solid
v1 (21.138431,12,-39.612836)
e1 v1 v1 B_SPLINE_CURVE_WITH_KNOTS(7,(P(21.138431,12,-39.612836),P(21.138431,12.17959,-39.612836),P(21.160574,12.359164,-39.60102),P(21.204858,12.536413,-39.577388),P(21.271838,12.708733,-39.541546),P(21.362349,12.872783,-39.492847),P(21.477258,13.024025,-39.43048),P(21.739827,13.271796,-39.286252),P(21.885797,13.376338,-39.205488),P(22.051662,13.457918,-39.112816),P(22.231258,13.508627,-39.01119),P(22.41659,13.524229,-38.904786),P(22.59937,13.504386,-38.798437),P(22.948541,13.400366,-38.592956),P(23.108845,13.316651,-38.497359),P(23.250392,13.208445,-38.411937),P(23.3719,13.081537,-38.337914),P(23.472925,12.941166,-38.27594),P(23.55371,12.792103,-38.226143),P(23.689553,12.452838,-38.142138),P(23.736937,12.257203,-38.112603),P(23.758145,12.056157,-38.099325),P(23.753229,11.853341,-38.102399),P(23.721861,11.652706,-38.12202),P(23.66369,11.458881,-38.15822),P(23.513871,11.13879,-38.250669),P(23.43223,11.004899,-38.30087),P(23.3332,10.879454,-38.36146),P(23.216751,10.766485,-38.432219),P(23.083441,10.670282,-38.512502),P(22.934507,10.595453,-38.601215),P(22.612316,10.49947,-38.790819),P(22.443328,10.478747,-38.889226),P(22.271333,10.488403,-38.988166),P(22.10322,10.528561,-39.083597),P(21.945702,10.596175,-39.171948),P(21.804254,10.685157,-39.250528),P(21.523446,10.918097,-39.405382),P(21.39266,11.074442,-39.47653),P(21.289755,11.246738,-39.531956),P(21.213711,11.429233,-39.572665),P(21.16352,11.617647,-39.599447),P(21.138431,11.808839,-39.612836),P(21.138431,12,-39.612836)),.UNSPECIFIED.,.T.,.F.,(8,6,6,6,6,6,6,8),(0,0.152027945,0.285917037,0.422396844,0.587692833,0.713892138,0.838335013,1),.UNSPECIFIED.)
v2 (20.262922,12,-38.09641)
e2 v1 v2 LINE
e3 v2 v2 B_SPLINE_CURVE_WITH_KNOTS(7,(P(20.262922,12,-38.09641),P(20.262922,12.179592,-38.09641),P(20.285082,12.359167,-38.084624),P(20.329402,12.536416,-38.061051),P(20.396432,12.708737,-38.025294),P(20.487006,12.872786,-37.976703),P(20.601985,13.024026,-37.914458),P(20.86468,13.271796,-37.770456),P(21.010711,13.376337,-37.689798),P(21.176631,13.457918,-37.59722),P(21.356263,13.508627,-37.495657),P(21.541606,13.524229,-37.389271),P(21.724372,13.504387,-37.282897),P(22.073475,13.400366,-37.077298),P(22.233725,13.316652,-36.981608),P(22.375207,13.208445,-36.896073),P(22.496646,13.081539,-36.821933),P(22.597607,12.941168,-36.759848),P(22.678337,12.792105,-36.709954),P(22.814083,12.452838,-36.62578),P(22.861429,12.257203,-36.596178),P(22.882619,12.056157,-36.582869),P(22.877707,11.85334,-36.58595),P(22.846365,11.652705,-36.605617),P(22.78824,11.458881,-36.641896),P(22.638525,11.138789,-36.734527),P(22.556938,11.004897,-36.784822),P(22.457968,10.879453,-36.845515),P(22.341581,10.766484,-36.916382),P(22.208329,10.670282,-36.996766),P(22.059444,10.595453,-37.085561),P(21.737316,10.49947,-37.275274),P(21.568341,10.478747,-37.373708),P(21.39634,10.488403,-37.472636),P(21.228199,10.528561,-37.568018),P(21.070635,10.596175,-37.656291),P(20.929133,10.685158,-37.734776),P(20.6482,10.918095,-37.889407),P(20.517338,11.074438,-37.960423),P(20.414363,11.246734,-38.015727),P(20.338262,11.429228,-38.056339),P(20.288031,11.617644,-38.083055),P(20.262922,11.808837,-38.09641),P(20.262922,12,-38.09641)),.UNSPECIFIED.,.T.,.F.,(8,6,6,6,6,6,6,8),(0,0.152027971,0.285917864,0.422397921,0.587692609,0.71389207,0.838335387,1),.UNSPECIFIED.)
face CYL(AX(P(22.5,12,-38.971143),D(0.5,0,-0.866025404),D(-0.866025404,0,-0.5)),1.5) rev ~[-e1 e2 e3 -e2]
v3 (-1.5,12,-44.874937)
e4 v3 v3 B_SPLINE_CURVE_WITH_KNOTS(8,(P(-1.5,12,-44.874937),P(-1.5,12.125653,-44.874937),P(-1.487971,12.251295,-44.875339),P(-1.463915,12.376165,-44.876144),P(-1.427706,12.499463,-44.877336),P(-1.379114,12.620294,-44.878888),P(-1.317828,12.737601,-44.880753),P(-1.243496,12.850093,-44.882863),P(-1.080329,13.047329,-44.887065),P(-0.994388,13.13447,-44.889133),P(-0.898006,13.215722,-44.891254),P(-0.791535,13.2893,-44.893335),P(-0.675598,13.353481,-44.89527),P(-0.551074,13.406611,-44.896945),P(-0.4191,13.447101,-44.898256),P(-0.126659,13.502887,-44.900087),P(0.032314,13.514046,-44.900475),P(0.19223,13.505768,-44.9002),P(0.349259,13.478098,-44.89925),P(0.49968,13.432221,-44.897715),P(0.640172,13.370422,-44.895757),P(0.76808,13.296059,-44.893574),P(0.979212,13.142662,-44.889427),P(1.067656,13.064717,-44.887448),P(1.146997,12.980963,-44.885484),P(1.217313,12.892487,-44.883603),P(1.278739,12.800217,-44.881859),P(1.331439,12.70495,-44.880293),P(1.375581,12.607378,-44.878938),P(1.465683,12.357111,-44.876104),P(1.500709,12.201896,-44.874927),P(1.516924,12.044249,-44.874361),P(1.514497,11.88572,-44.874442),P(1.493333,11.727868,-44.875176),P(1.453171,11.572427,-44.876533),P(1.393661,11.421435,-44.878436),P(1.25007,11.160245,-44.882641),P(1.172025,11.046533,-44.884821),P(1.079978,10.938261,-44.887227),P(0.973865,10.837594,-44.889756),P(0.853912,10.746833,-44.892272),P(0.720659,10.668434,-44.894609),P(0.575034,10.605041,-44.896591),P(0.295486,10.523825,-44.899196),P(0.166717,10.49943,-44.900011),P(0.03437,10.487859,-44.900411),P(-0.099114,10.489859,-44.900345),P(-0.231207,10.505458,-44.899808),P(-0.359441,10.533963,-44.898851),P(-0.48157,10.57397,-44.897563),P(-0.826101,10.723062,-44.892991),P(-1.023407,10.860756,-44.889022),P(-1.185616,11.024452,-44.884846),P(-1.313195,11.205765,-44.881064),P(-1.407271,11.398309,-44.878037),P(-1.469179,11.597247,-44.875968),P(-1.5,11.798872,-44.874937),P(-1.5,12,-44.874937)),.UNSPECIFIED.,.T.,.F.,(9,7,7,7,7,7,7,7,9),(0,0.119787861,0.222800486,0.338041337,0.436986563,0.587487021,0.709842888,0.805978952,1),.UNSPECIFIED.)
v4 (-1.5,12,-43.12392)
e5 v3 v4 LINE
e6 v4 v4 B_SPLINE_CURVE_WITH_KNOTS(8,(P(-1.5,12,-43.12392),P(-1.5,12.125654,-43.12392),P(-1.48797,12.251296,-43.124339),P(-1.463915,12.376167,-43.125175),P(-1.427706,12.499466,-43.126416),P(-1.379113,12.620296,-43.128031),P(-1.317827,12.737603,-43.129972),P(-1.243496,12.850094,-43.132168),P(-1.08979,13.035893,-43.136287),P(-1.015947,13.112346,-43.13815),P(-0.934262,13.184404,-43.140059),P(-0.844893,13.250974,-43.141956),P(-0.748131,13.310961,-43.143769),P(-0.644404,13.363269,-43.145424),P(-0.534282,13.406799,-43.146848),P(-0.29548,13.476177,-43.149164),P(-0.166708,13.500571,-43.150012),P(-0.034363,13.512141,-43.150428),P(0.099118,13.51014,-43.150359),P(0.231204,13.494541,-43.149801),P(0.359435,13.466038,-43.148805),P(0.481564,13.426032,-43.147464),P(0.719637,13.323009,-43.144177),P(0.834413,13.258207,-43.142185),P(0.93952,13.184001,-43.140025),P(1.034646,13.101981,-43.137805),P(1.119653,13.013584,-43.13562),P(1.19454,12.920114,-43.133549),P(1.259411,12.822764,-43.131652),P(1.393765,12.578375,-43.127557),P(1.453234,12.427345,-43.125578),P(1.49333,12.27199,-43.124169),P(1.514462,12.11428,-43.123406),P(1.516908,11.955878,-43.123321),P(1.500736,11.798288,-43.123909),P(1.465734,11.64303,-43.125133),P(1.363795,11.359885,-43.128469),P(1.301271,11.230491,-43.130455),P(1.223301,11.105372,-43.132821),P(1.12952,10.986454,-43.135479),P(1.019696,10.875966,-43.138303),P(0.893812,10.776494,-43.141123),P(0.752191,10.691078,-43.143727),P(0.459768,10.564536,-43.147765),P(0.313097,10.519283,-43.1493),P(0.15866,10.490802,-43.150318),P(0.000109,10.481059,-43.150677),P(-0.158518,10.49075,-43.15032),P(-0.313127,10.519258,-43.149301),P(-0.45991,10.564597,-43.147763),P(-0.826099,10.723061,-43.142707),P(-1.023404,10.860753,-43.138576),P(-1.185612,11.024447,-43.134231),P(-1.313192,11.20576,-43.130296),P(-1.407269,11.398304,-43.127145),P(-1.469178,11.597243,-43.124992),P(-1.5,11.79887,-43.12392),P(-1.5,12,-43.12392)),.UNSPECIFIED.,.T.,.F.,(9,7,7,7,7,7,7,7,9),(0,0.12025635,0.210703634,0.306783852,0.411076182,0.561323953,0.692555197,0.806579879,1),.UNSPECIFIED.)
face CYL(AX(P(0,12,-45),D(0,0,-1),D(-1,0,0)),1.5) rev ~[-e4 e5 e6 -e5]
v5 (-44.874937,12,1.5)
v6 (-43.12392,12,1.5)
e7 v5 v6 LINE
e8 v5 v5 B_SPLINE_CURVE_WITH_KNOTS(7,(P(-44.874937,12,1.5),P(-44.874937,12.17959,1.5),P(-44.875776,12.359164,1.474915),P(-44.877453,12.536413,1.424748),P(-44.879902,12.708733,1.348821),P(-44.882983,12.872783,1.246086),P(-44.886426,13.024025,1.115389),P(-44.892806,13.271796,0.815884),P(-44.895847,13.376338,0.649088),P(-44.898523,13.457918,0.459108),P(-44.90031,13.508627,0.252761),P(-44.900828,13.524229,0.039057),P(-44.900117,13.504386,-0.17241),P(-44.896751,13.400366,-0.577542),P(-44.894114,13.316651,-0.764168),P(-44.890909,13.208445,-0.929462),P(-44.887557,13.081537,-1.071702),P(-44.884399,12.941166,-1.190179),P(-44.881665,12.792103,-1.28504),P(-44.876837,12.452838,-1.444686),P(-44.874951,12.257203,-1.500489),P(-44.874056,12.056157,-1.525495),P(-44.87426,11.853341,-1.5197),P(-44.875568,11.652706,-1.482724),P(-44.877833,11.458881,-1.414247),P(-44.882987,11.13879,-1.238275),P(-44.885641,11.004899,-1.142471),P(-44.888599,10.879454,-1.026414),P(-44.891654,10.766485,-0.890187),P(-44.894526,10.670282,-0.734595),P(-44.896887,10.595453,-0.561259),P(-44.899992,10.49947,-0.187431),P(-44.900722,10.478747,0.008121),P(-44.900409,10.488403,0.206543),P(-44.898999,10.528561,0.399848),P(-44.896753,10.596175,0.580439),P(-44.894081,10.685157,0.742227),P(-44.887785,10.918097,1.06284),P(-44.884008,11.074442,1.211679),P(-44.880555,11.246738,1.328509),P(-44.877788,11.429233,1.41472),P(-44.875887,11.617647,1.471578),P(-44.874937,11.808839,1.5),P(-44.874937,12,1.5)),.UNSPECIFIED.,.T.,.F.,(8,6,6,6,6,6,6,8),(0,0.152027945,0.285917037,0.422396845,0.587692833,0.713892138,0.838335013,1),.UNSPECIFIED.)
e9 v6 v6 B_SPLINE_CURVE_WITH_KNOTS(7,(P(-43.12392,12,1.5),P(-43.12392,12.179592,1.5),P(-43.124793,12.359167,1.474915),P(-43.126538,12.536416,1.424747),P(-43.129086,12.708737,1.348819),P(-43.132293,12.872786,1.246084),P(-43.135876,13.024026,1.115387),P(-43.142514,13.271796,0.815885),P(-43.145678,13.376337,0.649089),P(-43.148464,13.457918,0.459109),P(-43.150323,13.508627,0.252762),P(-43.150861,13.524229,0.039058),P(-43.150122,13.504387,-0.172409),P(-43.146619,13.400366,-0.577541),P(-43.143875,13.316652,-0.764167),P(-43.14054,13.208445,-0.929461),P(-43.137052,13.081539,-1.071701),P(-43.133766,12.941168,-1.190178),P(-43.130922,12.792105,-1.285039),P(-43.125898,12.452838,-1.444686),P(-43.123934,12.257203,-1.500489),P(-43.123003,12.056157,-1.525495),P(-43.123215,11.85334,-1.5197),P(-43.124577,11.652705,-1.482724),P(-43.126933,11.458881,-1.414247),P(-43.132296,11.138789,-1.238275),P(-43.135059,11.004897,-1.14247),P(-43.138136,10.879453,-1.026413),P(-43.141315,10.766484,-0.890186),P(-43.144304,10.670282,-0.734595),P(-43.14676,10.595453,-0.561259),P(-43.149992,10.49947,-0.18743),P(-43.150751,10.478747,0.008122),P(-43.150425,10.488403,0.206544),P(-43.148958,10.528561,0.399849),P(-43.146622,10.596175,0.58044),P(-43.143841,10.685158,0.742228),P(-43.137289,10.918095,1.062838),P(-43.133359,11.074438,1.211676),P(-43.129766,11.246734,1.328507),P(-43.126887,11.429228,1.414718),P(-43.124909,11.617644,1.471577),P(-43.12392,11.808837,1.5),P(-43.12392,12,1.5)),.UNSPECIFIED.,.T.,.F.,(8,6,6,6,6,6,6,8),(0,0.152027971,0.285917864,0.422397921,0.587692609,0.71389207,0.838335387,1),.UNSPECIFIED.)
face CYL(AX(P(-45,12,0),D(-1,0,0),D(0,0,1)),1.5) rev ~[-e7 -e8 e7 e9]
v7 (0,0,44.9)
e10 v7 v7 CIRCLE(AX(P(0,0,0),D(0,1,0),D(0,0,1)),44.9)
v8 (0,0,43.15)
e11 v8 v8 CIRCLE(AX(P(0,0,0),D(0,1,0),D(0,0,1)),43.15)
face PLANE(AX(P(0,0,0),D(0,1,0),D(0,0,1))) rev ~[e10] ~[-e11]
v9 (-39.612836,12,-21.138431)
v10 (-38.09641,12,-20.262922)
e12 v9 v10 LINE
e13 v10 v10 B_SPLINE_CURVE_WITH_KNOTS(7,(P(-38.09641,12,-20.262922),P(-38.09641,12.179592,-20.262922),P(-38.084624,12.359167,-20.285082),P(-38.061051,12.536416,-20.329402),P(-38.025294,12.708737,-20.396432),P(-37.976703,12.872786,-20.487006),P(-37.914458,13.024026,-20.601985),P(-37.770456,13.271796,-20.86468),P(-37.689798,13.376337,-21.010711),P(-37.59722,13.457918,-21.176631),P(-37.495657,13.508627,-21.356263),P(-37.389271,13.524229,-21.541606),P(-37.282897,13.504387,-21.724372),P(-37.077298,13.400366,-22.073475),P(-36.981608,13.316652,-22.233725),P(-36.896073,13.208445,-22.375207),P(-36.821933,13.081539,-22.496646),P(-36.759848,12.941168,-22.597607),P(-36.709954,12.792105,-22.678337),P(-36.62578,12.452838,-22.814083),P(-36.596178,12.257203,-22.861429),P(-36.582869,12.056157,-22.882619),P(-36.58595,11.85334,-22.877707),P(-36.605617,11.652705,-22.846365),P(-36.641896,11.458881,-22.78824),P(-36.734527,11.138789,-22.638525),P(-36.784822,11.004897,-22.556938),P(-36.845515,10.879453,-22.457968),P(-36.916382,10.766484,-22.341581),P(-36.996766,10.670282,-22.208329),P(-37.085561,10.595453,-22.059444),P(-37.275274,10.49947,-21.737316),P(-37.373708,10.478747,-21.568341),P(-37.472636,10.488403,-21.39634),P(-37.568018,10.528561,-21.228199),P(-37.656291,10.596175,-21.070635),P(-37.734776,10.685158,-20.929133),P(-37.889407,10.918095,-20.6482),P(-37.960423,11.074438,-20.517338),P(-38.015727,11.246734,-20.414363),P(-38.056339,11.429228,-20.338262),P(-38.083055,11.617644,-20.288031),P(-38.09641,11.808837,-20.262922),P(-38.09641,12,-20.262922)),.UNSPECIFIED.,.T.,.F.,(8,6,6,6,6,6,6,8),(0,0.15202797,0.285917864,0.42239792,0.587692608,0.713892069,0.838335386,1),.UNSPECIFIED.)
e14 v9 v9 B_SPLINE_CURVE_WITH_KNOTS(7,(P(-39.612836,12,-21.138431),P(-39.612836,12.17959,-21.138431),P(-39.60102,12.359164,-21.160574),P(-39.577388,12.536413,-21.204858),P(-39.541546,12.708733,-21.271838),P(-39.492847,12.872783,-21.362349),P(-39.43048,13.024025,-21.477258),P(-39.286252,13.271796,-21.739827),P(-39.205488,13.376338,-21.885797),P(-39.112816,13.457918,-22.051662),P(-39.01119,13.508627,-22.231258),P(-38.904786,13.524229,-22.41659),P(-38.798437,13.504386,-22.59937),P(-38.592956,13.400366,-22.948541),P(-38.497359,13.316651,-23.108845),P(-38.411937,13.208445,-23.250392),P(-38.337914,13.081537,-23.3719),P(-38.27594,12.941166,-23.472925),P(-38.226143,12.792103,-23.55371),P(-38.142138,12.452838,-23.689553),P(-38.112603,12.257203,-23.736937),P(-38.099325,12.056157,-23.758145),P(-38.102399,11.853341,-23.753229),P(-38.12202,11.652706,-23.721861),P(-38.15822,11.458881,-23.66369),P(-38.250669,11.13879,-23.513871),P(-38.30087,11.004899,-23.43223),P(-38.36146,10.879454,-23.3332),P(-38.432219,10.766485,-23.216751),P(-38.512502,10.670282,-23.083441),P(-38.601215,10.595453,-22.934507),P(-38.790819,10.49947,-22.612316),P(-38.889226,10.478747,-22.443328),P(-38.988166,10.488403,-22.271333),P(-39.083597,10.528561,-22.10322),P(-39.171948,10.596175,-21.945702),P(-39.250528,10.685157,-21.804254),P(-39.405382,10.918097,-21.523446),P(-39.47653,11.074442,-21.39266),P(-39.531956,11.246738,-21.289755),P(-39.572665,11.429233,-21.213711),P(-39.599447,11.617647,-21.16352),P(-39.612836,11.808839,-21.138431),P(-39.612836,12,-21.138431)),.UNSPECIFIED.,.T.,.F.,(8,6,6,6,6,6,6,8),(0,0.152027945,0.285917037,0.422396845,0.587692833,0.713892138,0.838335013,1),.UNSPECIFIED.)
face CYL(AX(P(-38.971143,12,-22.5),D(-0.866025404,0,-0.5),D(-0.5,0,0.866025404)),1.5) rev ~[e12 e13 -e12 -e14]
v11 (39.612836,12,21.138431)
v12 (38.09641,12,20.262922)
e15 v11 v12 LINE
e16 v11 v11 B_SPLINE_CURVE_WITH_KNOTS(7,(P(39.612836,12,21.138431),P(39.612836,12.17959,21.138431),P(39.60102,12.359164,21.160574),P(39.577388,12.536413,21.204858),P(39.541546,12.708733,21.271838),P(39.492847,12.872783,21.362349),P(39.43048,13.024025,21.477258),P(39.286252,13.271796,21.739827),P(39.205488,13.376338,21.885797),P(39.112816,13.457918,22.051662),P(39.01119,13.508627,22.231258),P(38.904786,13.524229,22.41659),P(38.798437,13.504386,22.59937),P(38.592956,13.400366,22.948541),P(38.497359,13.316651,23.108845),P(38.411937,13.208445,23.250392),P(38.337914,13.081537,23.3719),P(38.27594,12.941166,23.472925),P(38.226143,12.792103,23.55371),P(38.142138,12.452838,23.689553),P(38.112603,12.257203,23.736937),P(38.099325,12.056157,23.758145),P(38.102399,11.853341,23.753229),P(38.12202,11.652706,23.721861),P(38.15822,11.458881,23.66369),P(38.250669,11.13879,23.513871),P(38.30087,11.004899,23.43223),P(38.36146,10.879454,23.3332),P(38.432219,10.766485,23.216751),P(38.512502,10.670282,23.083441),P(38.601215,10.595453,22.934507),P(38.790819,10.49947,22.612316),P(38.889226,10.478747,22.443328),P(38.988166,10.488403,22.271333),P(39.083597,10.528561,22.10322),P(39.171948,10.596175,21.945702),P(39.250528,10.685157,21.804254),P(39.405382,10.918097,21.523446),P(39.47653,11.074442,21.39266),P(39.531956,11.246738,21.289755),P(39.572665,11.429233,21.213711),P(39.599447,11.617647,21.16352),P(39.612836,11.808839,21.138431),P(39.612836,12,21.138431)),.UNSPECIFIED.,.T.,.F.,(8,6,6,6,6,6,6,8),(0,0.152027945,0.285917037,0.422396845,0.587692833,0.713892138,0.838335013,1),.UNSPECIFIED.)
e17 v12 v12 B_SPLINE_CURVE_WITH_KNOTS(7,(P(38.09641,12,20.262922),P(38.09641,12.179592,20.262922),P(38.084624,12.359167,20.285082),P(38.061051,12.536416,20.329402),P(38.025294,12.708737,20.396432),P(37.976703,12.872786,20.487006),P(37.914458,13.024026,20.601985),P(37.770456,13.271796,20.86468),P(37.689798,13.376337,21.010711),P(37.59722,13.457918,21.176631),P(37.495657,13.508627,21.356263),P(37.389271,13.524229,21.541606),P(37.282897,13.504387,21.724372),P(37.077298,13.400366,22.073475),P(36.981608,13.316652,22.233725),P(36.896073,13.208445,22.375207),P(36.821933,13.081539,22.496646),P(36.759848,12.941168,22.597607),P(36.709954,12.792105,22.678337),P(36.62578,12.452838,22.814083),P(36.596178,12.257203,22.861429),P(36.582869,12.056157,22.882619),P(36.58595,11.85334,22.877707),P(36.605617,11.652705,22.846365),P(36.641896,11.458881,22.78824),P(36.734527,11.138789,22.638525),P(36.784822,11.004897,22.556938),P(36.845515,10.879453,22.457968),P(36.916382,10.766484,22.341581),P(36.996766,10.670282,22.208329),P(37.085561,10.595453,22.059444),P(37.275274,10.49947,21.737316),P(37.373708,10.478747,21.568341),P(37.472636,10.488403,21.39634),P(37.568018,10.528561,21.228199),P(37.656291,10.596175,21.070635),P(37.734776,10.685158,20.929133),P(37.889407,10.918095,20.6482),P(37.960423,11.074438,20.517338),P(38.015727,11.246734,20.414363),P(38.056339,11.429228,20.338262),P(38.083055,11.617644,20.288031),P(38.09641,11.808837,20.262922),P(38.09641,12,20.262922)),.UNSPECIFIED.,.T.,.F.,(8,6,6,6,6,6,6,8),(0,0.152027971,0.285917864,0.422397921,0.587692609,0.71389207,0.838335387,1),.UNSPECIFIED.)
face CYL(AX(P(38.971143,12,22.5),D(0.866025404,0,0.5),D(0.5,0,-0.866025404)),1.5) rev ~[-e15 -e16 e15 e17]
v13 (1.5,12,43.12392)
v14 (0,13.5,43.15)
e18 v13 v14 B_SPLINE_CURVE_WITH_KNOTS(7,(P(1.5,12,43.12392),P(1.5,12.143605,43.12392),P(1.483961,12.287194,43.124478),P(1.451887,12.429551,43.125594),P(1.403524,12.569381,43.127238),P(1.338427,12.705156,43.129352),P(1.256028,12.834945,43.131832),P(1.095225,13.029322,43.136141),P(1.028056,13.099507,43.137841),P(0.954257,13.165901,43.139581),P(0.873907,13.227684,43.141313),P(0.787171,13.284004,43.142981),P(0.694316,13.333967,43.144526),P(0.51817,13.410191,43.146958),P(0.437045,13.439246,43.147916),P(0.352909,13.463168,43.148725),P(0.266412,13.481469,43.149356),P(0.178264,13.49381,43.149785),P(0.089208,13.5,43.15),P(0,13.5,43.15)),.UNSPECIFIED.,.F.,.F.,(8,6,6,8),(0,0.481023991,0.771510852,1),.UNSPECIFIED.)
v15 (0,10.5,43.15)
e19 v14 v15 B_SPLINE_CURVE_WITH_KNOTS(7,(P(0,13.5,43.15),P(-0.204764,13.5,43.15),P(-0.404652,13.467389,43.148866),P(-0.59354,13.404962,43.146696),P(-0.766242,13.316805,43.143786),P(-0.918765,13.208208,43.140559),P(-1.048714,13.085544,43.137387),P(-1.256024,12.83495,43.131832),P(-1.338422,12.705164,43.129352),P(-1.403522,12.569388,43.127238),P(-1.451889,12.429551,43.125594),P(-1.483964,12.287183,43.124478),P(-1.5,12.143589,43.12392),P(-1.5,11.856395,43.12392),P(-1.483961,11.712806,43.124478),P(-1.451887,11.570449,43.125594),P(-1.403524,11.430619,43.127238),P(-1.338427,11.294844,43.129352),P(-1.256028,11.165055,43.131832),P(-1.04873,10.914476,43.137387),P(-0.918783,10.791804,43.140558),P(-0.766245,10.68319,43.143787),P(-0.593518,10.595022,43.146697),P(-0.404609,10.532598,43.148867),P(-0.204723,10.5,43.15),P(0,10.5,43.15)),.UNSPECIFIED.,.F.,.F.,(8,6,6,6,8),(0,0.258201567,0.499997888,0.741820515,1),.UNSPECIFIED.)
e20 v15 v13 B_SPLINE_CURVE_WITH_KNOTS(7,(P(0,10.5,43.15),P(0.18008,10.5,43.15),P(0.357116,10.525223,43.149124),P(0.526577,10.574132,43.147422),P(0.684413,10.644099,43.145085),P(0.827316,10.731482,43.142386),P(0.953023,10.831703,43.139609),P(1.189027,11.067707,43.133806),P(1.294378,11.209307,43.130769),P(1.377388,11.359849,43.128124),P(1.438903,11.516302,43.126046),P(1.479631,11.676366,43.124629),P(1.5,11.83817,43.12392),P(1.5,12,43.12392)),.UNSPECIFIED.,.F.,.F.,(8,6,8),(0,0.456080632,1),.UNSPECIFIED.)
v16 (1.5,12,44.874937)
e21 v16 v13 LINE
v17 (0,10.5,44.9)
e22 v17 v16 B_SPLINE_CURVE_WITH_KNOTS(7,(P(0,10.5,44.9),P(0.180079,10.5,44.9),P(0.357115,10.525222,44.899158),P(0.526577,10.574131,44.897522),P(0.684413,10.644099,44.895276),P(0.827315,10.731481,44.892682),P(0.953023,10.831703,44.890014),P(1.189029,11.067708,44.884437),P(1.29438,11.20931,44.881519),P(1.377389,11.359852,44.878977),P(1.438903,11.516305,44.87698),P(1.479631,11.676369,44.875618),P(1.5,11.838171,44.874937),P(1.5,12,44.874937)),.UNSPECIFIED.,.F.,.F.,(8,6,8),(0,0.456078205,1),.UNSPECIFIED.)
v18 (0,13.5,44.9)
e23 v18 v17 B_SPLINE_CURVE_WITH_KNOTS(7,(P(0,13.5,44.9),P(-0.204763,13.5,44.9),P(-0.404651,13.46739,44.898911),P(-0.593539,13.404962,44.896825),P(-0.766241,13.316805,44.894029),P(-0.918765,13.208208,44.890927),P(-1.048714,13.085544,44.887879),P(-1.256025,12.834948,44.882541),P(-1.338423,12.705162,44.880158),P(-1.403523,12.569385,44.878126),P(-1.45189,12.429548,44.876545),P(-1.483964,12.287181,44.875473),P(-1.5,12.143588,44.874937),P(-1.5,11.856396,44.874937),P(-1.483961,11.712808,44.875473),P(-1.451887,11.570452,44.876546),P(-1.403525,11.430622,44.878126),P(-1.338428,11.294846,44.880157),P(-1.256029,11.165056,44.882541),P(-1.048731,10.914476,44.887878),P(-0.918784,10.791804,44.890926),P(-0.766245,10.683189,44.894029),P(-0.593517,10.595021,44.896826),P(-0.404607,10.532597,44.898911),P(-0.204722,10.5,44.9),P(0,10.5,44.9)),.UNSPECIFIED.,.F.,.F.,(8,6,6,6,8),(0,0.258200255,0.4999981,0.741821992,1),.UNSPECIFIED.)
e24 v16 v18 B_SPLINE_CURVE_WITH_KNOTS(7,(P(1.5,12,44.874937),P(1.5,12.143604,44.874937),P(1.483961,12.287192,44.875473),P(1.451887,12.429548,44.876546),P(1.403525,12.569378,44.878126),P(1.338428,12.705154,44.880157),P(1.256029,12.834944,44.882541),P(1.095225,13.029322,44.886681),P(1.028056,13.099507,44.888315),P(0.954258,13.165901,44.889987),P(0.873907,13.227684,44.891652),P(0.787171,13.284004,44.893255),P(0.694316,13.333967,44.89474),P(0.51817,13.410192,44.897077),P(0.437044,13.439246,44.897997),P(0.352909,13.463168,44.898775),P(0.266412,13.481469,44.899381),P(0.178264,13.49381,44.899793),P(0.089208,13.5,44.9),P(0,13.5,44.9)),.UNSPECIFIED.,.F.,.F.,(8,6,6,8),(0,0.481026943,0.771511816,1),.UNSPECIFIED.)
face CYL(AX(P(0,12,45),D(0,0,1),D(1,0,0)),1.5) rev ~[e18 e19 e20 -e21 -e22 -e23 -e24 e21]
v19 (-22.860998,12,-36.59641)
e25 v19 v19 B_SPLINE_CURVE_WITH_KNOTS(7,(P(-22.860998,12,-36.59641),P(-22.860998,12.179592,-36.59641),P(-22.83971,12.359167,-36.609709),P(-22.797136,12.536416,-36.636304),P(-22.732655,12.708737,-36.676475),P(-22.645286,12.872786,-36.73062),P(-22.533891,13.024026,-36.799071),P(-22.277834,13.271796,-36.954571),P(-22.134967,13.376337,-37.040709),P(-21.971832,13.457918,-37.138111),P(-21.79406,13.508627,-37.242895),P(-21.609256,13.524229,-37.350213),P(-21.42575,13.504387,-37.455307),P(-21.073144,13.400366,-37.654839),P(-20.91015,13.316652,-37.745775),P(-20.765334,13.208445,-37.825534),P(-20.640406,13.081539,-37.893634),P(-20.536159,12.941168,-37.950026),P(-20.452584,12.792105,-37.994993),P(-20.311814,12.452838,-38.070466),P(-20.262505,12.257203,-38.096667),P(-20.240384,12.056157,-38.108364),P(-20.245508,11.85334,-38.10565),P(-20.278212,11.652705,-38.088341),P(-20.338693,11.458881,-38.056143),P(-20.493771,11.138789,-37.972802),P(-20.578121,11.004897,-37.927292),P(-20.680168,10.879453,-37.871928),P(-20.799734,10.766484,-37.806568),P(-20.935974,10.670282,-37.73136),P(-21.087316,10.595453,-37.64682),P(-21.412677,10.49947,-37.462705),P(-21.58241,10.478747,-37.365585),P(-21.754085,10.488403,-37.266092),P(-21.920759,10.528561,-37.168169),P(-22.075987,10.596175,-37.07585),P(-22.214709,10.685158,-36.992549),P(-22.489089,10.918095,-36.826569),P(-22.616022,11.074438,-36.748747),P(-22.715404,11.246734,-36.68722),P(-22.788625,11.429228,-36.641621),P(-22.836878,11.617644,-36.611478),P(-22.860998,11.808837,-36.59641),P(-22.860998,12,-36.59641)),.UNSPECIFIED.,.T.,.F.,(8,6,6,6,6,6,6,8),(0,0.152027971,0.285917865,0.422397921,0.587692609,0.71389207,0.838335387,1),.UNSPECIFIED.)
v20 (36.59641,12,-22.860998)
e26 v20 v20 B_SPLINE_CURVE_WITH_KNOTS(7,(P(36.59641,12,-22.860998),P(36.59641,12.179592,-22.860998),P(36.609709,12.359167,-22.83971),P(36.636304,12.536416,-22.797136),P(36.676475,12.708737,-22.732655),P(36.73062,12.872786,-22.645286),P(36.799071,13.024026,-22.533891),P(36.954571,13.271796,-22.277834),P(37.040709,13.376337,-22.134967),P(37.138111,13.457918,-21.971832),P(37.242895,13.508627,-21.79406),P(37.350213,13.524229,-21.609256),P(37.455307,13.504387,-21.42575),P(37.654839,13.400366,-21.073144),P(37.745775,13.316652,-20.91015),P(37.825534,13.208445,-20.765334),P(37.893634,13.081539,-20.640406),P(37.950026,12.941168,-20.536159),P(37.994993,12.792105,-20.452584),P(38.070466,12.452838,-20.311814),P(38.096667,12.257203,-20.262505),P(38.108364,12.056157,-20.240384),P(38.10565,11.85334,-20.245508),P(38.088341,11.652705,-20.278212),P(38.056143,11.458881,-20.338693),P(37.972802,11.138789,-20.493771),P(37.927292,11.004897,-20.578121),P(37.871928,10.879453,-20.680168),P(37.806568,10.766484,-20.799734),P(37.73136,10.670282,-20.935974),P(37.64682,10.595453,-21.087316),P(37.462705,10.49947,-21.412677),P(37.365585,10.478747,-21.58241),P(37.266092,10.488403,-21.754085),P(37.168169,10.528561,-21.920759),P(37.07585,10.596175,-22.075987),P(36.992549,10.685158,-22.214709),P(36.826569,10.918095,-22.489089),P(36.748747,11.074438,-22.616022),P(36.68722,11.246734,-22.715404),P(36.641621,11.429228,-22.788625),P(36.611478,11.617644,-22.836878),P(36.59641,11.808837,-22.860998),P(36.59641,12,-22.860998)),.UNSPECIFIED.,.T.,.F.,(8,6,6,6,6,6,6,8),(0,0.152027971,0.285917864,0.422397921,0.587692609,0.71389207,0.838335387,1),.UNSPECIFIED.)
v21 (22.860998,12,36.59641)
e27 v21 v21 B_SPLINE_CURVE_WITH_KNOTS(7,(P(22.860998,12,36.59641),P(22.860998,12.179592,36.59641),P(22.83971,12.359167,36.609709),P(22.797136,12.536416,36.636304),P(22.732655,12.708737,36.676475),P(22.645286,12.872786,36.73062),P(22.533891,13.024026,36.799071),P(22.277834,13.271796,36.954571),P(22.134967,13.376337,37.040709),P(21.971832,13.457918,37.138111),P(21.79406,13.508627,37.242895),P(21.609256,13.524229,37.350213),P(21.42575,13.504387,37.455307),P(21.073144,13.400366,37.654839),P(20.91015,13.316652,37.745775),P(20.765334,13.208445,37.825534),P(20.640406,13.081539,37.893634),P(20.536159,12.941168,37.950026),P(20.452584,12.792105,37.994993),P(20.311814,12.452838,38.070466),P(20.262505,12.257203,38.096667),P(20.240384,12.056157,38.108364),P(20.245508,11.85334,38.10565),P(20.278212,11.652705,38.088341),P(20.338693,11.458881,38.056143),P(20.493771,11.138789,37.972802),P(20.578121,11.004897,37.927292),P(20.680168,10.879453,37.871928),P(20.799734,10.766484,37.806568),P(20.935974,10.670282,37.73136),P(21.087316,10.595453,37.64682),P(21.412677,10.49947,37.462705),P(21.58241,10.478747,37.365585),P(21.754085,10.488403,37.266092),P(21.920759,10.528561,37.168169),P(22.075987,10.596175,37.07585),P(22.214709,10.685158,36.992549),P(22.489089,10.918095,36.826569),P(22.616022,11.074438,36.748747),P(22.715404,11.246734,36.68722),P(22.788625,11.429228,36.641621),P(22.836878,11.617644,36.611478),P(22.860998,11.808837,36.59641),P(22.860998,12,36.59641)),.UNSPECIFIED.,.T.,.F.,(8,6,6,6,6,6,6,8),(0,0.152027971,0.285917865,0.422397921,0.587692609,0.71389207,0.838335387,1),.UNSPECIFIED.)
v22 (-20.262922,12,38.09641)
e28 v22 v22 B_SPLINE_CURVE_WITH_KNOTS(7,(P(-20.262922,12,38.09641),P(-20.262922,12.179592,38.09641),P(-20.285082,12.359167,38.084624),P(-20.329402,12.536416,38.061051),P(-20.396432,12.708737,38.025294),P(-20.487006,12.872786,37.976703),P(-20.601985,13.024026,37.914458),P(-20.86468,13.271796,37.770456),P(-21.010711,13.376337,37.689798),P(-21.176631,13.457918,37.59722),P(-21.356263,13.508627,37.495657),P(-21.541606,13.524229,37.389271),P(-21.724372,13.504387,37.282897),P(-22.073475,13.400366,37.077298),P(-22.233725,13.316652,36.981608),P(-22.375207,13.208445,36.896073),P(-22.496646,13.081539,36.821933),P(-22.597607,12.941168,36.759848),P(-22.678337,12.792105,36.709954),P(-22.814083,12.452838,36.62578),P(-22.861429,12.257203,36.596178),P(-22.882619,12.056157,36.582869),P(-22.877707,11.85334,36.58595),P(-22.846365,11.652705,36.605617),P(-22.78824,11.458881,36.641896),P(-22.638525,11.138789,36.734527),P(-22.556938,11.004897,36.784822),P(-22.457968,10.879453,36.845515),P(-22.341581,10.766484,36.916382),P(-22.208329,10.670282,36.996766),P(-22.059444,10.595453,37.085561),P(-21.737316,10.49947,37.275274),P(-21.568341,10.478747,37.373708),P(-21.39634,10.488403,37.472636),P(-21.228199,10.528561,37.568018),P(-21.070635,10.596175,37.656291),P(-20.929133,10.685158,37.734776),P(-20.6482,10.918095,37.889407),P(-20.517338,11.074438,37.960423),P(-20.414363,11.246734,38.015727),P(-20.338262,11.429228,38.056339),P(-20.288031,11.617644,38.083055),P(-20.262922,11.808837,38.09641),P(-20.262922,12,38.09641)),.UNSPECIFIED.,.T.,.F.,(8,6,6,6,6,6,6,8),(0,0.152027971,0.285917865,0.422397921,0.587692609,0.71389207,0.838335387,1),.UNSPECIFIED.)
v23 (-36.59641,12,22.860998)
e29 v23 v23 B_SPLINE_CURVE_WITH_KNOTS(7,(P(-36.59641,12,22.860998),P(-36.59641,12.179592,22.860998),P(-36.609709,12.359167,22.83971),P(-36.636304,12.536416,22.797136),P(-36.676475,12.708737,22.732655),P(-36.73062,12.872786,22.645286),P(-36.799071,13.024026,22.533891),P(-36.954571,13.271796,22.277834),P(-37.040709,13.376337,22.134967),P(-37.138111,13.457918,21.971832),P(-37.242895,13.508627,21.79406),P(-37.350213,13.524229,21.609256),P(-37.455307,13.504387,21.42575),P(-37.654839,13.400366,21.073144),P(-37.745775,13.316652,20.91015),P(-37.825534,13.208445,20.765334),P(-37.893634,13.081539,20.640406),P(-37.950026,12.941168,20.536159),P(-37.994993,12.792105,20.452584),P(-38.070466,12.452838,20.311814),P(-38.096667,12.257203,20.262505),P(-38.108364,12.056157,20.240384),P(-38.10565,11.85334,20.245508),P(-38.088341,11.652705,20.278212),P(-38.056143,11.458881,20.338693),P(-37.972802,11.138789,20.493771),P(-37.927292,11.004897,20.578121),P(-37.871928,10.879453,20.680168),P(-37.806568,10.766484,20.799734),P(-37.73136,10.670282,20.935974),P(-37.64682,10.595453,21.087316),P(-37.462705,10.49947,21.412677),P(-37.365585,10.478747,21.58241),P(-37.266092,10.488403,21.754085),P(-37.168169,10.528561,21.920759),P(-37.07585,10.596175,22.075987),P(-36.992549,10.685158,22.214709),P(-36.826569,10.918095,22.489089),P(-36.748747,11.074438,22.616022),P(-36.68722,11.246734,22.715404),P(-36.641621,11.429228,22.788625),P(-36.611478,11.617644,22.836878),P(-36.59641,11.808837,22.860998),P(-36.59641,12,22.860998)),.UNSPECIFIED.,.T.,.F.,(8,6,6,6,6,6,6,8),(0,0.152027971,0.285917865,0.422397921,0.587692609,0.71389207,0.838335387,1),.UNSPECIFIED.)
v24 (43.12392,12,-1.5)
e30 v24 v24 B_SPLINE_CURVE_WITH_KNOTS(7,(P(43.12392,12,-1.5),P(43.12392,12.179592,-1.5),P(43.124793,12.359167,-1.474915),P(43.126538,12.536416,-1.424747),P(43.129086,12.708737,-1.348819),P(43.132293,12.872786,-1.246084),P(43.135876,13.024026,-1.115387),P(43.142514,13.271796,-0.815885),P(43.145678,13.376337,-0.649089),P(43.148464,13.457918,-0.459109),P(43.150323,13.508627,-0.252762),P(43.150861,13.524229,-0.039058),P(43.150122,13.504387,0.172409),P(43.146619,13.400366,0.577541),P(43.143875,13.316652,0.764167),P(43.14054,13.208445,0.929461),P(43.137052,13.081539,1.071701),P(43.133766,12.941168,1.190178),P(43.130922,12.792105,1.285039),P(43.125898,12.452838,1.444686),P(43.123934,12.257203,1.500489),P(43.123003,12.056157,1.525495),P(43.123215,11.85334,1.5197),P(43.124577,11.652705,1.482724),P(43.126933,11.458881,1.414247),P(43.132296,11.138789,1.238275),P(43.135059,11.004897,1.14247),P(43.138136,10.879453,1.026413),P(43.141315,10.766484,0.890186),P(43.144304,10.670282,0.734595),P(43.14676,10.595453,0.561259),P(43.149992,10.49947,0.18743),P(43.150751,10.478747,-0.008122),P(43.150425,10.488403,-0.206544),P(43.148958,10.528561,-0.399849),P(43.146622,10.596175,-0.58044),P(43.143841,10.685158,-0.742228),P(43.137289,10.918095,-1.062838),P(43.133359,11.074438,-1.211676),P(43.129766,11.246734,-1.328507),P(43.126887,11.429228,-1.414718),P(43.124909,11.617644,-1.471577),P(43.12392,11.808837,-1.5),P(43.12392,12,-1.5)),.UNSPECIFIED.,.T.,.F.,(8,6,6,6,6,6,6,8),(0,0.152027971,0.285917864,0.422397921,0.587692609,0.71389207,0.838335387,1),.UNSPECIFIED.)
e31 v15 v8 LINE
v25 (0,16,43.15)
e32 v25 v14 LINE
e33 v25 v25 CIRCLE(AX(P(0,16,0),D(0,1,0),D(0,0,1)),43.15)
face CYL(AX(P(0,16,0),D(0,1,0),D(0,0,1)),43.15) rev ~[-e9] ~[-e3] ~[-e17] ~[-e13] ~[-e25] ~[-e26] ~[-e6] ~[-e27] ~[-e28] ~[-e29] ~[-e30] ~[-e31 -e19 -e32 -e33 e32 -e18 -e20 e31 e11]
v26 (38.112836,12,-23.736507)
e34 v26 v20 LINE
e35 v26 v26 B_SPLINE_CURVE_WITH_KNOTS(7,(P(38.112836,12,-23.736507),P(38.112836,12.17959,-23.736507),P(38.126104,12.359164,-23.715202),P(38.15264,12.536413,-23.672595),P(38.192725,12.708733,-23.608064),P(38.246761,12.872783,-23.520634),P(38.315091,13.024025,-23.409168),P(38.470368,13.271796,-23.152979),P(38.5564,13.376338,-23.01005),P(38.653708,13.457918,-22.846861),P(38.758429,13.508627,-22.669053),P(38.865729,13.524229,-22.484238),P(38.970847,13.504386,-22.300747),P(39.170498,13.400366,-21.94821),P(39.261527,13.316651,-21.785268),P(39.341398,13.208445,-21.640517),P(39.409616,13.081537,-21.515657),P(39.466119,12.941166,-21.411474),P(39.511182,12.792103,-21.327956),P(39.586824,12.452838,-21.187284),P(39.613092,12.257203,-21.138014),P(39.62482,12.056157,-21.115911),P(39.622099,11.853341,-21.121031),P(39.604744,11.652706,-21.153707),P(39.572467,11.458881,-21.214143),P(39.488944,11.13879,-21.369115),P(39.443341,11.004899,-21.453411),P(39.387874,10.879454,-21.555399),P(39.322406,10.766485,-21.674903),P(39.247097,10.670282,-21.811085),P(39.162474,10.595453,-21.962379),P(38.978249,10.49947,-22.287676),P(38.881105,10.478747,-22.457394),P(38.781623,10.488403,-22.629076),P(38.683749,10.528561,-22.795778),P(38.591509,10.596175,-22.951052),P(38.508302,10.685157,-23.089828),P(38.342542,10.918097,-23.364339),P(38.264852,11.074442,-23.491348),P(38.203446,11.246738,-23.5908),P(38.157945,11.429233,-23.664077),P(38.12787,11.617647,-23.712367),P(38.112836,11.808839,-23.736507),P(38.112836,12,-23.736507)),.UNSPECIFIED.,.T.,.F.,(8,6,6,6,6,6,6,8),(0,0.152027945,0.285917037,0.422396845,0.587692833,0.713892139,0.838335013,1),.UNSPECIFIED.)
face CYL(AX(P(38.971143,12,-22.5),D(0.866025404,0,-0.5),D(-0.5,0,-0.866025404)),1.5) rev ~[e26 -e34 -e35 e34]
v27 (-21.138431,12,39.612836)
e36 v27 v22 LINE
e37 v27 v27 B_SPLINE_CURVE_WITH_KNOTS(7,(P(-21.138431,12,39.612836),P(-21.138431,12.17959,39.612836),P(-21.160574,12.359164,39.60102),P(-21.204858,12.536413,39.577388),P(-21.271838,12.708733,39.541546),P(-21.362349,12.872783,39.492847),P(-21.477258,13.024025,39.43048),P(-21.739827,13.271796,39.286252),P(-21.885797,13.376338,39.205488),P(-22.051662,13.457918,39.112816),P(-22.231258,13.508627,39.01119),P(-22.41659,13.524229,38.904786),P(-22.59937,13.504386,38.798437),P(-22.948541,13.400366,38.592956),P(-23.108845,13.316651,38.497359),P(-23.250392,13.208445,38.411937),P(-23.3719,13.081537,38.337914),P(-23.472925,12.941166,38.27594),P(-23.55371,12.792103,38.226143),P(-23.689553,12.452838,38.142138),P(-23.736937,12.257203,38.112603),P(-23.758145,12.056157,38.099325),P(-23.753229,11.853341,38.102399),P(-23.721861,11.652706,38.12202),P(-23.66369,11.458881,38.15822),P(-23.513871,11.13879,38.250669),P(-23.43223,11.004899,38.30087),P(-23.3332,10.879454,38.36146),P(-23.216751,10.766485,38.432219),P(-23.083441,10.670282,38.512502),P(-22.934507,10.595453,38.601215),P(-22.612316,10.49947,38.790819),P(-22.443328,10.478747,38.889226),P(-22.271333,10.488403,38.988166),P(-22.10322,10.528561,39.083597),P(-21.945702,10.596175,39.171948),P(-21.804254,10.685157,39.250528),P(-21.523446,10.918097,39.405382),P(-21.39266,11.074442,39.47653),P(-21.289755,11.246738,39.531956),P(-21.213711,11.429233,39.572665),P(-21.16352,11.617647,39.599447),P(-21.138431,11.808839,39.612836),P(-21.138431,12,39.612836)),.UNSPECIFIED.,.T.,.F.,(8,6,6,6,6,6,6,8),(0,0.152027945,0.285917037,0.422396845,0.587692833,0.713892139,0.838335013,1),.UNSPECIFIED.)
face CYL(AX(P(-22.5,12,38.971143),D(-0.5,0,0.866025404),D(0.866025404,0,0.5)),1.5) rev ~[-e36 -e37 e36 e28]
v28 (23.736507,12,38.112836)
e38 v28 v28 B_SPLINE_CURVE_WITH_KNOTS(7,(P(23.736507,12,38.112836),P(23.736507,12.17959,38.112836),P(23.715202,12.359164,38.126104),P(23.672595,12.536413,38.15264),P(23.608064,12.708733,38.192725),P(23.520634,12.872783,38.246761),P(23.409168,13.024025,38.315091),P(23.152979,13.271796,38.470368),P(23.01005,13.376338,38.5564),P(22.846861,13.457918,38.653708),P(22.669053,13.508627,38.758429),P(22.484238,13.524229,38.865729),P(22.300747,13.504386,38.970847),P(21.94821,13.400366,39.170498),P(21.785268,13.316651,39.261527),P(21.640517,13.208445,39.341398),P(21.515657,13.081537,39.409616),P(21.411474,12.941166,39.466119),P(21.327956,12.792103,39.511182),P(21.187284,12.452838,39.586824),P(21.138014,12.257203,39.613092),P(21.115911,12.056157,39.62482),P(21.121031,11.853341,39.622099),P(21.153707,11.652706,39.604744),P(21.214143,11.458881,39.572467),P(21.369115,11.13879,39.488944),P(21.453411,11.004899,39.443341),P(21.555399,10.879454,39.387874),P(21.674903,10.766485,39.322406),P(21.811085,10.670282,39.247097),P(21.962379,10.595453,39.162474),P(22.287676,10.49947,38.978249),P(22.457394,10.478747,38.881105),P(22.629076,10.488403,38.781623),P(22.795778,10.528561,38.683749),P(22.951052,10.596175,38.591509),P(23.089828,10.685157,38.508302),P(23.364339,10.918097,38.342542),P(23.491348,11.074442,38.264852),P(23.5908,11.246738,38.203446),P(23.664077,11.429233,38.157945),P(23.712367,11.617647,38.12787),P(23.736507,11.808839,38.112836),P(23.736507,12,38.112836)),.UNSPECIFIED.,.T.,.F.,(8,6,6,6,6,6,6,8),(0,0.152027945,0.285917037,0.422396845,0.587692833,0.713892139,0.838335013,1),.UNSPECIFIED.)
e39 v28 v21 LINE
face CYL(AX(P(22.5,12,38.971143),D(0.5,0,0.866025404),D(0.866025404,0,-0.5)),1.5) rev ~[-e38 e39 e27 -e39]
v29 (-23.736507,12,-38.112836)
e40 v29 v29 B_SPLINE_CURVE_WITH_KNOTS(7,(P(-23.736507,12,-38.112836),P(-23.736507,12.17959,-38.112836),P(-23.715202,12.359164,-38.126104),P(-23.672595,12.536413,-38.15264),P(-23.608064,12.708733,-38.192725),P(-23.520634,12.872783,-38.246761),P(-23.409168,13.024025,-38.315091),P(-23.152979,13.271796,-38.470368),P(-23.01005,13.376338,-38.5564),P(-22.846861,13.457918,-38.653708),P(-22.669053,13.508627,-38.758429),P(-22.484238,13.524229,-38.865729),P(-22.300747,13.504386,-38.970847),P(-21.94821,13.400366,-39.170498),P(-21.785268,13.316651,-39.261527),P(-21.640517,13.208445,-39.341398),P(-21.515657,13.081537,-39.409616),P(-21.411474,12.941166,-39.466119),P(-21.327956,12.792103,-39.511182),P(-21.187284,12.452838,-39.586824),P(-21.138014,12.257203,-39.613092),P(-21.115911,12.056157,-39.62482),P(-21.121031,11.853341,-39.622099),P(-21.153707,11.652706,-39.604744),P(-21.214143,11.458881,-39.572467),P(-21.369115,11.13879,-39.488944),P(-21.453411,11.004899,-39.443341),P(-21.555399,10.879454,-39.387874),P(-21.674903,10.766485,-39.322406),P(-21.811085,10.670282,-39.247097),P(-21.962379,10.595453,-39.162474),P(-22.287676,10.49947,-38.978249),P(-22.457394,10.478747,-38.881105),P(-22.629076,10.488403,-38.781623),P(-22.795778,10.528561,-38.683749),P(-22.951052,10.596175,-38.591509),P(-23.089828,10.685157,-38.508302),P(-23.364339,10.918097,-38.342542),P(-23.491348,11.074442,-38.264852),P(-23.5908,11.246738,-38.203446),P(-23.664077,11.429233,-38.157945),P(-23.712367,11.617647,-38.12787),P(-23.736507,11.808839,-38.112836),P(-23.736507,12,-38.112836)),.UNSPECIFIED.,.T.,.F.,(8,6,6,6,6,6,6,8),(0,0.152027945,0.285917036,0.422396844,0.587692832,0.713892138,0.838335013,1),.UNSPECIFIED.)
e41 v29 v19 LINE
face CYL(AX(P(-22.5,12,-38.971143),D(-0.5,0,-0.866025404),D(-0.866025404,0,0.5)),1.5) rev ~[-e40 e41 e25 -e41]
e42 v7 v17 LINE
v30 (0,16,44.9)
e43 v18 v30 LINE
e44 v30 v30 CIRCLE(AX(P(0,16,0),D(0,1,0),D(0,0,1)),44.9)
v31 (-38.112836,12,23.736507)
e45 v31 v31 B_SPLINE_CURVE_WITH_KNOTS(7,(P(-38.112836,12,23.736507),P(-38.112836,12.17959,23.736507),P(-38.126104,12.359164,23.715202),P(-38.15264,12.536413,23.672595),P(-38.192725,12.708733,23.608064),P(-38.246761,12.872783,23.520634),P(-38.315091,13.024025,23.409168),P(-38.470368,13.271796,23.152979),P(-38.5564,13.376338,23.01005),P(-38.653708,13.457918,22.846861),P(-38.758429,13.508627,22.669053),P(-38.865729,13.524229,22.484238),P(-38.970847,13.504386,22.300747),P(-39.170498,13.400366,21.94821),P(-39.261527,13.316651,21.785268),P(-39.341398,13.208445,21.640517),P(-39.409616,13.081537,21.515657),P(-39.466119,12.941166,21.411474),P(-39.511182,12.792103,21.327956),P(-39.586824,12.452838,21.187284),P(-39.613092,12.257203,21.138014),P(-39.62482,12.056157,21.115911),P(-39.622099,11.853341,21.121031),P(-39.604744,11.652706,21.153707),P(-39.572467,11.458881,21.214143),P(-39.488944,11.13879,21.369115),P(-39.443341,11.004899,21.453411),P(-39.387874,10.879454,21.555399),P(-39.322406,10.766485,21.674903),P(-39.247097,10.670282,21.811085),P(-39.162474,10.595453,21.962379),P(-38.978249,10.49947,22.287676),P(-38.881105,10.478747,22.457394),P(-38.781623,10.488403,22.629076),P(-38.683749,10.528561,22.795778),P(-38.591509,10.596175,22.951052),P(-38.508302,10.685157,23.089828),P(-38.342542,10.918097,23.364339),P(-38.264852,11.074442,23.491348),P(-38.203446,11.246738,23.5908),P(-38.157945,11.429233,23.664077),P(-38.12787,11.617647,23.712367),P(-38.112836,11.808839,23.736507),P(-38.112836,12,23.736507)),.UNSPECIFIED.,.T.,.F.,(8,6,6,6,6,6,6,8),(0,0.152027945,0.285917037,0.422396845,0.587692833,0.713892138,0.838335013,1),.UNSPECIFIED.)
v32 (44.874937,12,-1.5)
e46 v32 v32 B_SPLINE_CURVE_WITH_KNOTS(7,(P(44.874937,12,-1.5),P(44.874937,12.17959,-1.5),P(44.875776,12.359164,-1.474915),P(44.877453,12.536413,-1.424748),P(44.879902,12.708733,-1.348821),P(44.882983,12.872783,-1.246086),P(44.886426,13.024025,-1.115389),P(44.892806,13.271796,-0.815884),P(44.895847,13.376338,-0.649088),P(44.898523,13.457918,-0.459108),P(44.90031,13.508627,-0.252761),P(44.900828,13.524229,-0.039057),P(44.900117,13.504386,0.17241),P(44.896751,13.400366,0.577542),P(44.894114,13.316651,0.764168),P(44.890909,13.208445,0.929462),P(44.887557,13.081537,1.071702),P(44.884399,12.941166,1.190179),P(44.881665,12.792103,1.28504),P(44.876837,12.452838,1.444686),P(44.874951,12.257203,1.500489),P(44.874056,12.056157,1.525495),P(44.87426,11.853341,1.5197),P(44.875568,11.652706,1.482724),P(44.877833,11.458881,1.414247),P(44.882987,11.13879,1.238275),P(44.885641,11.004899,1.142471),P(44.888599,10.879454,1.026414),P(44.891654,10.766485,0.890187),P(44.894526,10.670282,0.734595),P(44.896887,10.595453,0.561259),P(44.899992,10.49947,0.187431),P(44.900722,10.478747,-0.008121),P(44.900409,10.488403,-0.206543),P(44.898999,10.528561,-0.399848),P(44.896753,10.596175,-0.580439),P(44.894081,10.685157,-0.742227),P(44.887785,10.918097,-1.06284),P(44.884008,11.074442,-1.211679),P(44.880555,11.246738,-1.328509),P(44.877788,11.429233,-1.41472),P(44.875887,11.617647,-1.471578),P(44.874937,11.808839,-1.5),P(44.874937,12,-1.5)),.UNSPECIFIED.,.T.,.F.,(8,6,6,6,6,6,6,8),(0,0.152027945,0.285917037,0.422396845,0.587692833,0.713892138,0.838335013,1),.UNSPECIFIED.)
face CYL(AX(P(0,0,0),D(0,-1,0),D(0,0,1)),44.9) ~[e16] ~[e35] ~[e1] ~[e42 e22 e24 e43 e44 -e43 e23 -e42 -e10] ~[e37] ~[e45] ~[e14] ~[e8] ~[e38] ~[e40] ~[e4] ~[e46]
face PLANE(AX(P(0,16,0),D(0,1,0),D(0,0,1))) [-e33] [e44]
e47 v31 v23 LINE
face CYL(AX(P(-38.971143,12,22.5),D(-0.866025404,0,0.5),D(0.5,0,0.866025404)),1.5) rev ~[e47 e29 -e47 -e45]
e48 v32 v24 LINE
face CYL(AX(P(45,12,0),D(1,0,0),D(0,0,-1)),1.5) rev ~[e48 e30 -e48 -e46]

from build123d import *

# Parameters (mm, degrees)
SKETCH_1_R               = 44.9
SKETCH_1_R_2             = 2.5
SKETCH_1_R_3             = 18.4
EXTRUDE_1_DEPTH          = 16
SKETCH_2_R               = 4
CUT_EXTRUDE_1_DEPTH      = 3
SKETCH_4_R               = 4.5
CUT_EXTRUDE_2_DEPTH      = 5.1
SKETCH_5_R               = 1.5
CUT_EXTRUDE_3_DEPTH      = 10
PATTERN_CIRCULAR_1_COUNT = 12
FILLET_1_R               = 0.5
SKETCH1_R                = 43.15
CUT_EXTRUDE1_DEPTH       = 66.482975056


with BuildPart() as part:
    # 草图1 → 凸台-拉伸1 (new body)
    with BuildSketch(Plane(origin=(0, 0, 0), x_dir=(1, 0, 0), z_dir=(0, 1, 0))):
        with Locations(Location((0, 0, 0), (0, 0, 270))):
            Circle(SKETCH_1_R)
        with Locations(Location((-24.6, 0, 0), (0, 0, 270))):
            Circle(SKETCH_1_R_2, mode=Mode.SUBTRACT)
        with Locations(Location((-12.3, 21.304224933, 0), (0, 0, 270))):
            Circle(SKETCH_1_R_2, mode=Mode.SUBTRACT)
        with Locations(Location((12.3, 21.304224933, 0), (0, 0, 270))):
            Circle(SKETCH_1_R_2, mode=Mode.SUBTRACT)
        with Locations(Location((24.6, 0, 0), (0, 0, 270))):
            Circle(SKETCH_1_R_2, mode=Mode.SUBTRACT)
        with Locations(Location((12.3, -21.304224933, 0), (0, 0, 270))):
            Circle(SKETCH_1_R_2, mode=Mode.SUBTRACT)
        with Locations(Location((-12.3, -21.304224933, 0), (0, 0, 270))):
            Circle(SKETCH_1_R_2, mode=Mode.SUBTRACT)
        with Locations(Location((0, 0, 0), (0, 0, 270))):
            Circle(SKETCH_1_R_3, mode=Mode.SUBTRACT)
    extrude(amount=EXTRUDE_1_DEPTH)

    # 草图2 → 切除-拉伸1 (cut)
    with BuildSketch(Plane.XZ):
        with Locations(Location((-21.304224933, -12.3, 0), (0, 0, 270))):
            Circle(SKETCH_2_R)
        with Locations(Location((0, 24.6, 0), (0, 0, 270))):
            Circle(SKETCH_2_R)
        with Locations(Location((21.304224933, -12.3, 0), (0, 0, 270))):
            Circle(SKETCH_2_R)
    extrude(amount=-CUT_EXTRUDE_1_DEPTH, mode=Mode.SUBTRACT)

    # 草图4 → 切除-拉伸2 (cut)
    with BuildSketch(Plane(origin=(0, 16, 0), x_dir=(1, 0, 0), z_dir=(0, 1, 0))):
        with Locations(Location((-24.6, 0, 0), (0, 0, 270))):
            Circle(SKETCH_4_R)
        with Locations(Location((-12.3, 21.304224933, 0), (0, 0, 270))):
            Circle(SKETCH_4_R)
        with Locations(Location((12.3, 21.304224933, 0), (0, 0, 270))):
            Circle(SKETCH_4_R)
        with Locations(Location((24.6, 0, 0), (0, 0, 270))):
            Circle(SKETCH_4_R)
        with Locations(Location((12.3, -21.304224933, 0), (0, 0, 270))):
            Circle(SKETCH_4_R)
        with Locations(Location((-12.3, -21.304224933, 0), (0, 0, 270))):
            Circle(SKETCH_4_R)
    extrude(amount=-CUT_EXTRUDE_2_DEPTH, mode=Mode.SUBTRACT)

    # 草图5 → 切除-拉伸3 (cut)
    with BuildSketch(Plane(origin=(45, 0, 0), x_dir=(0, 0, -1), z_dir=(1, 0, 0))):
        with Locations((0, 12)):
            Circle(SKETCH_5_R)
    cut_extrude_3 = extrude(amount=-CUT_EXTRUDE_3_DEPTH, mode=Mode.SUBTRACT)

    # 阵列(圆周)1: 切除-拉伸3 ×12 about axis
    pattern_circular_1_axis = Axis((0, 0, 0), (0, 1, 0))
    for i in range(1, PATTERN_CIRCULAR_1_COUNT):
        add(cut_extrude_3.rotate(pattern_circular_1_axis, i * 360 / PATTERN_CIRCULAR_1_COUNT), mode=Mode.SUBTRACT)

    # 圆角1
    fillet_1_edges = [part.edges().sort_by_distance(p)[0] for p in [
        (0, 16, -18.4),
    ]]
    fillet(fillet_1_edges, radius=FILLET_1_R)

    # Sketch1 → Cut-Extrude1 (cut, through all)
    with BuildSketch(Plane(origin=(0, 16, 0), x_dir=(1, 0, 0), z_dir=(0, 1, 0))):
        with Locations(Location((0, 0, 0), (0, 0, 270))):
            Circle(SKETCH1_R)
    extrude(amount=-CUT_EXTRUDE1_DEPTH, mode=Mode.SUBTRACT)


solid = part.part
